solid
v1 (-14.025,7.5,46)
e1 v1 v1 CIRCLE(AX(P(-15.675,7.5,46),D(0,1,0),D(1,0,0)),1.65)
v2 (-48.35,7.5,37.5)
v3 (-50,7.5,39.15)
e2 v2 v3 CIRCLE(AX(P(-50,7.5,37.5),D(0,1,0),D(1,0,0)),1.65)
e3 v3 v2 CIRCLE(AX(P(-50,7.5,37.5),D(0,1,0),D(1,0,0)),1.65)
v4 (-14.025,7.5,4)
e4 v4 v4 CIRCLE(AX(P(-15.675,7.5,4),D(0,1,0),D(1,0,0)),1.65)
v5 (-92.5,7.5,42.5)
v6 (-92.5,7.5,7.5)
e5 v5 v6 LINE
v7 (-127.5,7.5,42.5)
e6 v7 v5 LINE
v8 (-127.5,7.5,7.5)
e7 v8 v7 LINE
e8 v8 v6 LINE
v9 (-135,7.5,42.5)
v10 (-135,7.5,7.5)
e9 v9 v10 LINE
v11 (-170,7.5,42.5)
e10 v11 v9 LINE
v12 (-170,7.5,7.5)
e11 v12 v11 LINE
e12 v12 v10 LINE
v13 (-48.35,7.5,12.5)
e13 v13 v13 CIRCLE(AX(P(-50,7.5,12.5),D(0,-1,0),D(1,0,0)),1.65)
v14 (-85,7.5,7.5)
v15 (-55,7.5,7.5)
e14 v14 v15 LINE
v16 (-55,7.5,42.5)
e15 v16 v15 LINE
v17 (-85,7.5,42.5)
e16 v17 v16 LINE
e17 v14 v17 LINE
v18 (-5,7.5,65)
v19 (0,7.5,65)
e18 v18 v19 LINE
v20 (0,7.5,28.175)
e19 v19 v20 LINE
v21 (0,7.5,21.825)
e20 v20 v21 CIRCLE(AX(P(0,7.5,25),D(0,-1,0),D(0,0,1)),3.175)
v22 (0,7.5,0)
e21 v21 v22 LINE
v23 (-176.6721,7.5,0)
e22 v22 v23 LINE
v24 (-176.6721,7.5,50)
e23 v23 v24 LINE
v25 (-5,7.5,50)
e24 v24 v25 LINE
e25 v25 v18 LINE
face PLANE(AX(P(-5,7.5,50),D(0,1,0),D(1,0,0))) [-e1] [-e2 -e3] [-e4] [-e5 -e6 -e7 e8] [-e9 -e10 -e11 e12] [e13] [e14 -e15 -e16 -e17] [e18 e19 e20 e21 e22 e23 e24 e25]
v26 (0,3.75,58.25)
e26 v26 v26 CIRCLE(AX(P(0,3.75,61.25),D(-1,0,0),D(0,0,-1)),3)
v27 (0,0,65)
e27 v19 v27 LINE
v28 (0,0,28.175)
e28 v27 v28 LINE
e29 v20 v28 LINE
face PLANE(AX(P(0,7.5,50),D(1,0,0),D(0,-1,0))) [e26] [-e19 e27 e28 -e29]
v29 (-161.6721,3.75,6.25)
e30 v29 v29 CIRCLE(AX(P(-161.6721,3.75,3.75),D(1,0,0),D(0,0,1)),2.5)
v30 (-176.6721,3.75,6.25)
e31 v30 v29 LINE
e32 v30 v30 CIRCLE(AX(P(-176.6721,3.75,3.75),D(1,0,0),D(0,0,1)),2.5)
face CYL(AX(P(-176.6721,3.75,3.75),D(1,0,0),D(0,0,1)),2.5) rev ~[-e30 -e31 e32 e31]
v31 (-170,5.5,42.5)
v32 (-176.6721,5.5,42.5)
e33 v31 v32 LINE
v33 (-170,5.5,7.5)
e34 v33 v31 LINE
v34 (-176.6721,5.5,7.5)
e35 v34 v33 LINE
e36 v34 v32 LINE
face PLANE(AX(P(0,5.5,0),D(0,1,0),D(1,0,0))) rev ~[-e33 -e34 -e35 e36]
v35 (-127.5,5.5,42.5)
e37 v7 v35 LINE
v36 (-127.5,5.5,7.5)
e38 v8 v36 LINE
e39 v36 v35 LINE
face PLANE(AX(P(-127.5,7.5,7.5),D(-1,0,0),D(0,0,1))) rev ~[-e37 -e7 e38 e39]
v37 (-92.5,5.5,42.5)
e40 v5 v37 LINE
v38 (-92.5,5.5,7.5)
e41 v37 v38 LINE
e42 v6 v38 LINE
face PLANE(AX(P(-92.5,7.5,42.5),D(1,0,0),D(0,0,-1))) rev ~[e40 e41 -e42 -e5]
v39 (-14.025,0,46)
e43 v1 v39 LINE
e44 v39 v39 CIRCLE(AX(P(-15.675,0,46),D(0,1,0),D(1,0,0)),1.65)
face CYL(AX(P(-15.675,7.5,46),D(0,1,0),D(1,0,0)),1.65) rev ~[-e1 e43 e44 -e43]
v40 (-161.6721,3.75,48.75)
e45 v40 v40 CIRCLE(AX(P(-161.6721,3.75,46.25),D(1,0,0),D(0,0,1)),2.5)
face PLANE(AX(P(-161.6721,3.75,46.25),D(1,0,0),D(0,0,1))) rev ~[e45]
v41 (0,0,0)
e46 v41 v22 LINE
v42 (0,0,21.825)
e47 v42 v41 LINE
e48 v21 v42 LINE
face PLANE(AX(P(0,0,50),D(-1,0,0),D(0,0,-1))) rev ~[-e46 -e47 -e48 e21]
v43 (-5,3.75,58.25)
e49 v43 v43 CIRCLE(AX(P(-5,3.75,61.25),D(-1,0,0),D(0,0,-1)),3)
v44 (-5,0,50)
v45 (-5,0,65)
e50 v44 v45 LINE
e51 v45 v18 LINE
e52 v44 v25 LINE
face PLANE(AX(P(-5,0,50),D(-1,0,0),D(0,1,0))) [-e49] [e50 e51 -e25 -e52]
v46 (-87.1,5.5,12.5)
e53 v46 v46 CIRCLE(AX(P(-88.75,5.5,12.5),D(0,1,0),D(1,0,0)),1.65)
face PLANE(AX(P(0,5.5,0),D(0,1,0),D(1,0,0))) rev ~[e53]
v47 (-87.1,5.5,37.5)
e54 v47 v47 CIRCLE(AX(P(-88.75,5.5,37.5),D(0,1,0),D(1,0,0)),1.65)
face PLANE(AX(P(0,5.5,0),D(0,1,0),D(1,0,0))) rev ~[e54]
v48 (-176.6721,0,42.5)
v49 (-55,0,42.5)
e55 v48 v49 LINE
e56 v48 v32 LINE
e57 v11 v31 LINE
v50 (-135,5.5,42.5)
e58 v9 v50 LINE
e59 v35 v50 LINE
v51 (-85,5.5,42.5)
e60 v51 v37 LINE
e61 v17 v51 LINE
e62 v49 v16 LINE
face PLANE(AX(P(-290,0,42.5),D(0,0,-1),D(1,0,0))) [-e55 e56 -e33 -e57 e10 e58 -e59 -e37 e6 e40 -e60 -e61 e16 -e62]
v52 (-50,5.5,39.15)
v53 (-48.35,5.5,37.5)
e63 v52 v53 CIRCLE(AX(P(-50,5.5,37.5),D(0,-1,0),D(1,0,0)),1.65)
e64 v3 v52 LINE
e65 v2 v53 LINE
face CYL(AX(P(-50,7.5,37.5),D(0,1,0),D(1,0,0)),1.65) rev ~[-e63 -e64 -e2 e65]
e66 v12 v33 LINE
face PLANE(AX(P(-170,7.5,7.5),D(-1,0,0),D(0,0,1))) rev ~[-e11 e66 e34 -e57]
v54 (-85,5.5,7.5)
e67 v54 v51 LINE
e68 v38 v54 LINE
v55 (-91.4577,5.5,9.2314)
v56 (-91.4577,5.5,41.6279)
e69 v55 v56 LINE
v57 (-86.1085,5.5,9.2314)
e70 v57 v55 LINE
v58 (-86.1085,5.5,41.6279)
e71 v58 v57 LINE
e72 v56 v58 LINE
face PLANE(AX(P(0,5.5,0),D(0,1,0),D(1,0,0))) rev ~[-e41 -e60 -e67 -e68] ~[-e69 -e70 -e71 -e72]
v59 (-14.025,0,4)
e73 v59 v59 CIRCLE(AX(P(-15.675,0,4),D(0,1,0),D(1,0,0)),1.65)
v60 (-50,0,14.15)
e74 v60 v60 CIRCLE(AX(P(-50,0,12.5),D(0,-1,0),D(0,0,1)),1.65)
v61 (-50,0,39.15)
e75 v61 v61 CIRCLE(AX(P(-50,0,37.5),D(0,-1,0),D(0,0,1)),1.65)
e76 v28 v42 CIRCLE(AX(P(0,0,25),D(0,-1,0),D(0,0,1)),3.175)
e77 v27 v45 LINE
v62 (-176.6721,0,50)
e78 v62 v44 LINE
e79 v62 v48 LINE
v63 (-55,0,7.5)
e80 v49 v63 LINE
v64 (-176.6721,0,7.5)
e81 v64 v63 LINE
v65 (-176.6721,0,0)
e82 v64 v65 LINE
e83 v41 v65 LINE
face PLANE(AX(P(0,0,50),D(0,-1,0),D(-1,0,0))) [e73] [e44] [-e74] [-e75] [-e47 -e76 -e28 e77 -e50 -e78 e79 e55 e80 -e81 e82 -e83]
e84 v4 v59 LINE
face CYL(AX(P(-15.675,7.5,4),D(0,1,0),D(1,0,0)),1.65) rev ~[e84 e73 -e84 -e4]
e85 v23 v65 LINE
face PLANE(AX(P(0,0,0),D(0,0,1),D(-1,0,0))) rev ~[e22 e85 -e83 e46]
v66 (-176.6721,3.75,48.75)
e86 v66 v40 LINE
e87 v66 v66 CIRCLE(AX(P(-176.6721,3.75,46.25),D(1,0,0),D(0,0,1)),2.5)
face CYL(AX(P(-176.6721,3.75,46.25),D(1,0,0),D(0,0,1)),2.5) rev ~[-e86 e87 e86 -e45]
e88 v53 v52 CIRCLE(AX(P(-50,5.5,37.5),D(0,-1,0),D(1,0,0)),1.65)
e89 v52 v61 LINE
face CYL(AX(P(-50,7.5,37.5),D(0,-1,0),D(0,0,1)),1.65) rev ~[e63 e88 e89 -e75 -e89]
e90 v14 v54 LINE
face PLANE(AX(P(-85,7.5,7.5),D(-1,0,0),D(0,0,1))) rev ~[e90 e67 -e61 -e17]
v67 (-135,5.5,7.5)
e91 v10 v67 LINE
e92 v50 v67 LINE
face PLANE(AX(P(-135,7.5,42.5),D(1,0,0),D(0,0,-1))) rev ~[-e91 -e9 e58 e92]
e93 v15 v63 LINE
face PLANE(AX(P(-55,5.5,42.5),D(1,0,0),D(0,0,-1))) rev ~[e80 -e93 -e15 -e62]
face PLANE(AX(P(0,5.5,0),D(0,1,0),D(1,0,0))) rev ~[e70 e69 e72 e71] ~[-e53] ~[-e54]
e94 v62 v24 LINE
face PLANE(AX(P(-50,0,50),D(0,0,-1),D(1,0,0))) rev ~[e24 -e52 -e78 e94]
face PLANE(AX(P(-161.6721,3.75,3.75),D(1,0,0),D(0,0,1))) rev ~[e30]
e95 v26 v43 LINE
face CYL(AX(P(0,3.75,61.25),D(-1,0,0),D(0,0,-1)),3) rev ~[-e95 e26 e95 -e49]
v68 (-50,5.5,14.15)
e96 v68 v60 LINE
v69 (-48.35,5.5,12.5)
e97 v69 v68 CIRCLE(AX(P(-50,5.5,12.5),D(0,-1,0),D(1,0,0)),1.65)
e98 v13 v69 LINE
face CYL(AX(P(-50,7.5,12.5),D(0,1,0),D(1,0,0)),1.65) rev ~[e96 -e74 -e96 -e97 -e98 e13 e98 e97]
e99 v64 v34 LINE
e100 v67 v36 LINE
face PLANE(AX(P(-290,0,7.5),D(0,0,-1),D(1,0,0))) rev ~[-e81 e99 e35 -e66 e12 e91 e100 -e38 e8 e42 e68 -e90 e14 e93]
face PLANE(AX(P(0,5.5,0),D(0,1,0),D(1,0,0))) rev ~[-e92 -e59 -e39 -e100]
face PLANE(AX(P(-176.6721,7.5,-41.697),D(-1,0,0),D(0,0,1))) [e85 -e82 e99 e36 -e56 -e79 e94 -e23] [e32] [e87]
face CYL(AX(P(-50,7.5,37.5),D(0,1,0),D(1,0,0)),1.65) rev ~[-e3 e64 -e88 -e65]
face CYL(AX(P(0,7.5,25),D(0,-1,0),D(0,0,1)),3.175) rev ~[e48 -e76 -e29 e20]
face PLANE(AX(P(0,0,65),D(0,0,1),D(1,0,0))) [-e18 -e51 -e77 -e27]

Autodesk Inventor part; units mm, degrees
ref_plane "YZ Plane" through (0, 0, 0) normal (1, 0, 0) x (0, 1, 0)
ref_plane "XZ Plane" through (0, 0, 0) normal (0, 1, 0) x (-1, 0, 0)
ref_plane "XY Plane" through (0, 0, 0) normal (0, 0, 1) x (1, 0, 0)
sketch "Sketch1" plane through (0, 0, 0) normal (0, 1, 0) x (-1, 0, 0)
  line L0 (0, 0) -> (50, 0)
  line L1 (50, 0) -> (50, 50)
  line L2 (50, 50) -> (0, 50)
  line L3 (0, 50) -> (0, 0)
  line L4 (50, 50) -> (290, 50)
  line L5 (290, 50) -> (290, 42.5)
  line L6 (290, 42.5) -> (50, 42.5)
  line L7 (50, 42.5) -> (50, 50)
  line L8 (50, 0) -> (290, 0)
  line L9 (290, 0) -> (290, 7.5)
  line L10 (290, 7.5) -> (50, 7.5)
  line L11 (50, 7.5) -> (50, 0)
  dimension "d0" = 50
  dimension "d1" = 50
  dimension "d2" = 240
  dimension "d3" = 7.5
  dimension "d4" = 7.5
extrude "Extrusion1" add sketch "Sketch1" along normal blind 7.5
sketch "Sketch2" plane through (0, 7.5, 0) normal (0, 1, 0) x (1, 0, 0)
  line L0 (0, -50) -> (0, 0) projected
  point P0 (0, -25)
hole "Hole1" at (0, 7.5, 25) direction (0, -1, 0) diameter 6.35 end through all
sketch "Sketch3" plane through (0, 7.5, 0) normal (0, 1, 0) x (1, 0, 0)
  line L0 (-3.175, -50) -> (-3.175, 0) construction
  line L1 (-3.175, -50) -> (-28.175, -50) construction
  line L2 (-28.175, -50) -> (-28.175, 0) construction
  line L3 (-28.175, 0) -> (-3.175, 0) construction
  point P0 (0, 0)
  point P1 (-7.175, -4)
  point P2 (-24.175, -46)
  dimension "d14" = 25
hole "Hole2" at (-7.175, 7.5, 4) at (-24.175, 7.5, 46) direction (0, -1, 0) diameter 3.3 end through all
sketch "Sketch4" plane through (0, 7.5, 0) normal (0, 1, 0) x (1, 0, 0)
  arc A0 (0, -21.825) -> (0, -28.175) centre (0, -25) ccw construction
  line L0 (-3.175, -25) -> (-28.175, -25) construction
  line L1 (-3.175, -25) -> (21.825, -25) construction
  line L2 (-290, -50) -> (0, -50) construction
  line L3 (-28.175, -50) -> (-28.175, 0) construction
  line L4 (-50, -7.5) -> (-50, -42.5) construction
  line L5 (-50, -42.5) -> (-45, -42.5) construction
  line L6 (-45, -42.5) -> (-45, -32.5) construction
  line L7 (-45, -32.5) -> (-50, -32.5) construction
  line L8 (-50, -32.5) -> (-50, -42.5) construction
  line L9 (-45, -32.5) -> (-40, -32.5)
  line L10 (-40, -32.5) -> (-40, -42.5)
  line L11 (-40, -42.5) -> (-45, -42.5)
  line L12 (-45, -42.5) -> (-45, -32.5)
  point P0 (0, 0)
  dimension "d22" = 25
  dimension "d23" = 180
  dimension "d24" = 5
  dimension "d25" = 10
  dimension "d26" = 5
extrude "Extrusion2" add sketch "Sketch4" along normal blind 17.5
sketch "Sketch5" plane through (0, 7.5, 0) normal (0, 1, 0) x (1, 0, 0)
  line L0 (-85, -7.5) -> (-85, -42.5)
  line L1 (-127.5, -7.5) -> (-127.5, -42.5)
  line L2 (-92.5, -42.5) -> (-92.5, -7.5)
  line L3 (-135, -7.5) -> (-170, -7.5) construction
  line L4 (-170, -7.5) -> (-170, -42.5) construction
  line L5 (-170, -42.5) -> (-135, -42.5) construction
  line L6 (-135, -42.5) -> (-135, -7.5) construction
  line L7 (-177.5, -7.5) -> (-212.5, -7.5) construction
  line L8 (-212.5, -7.5) -> (-212.5, -42.5) construction
  line L9 (-212.5, -42.5) -> (-177.5, -42.5) construction
  line L10 (-177.5, -42.5) -> (-177.5, -7.5) construction
  line L11 (-220, -7.5) -> (-255, -7.5) construction
  line L12 (-255, -7.5) -> (-255, -42.5) construction
  line L13 (-255, -42.5) -> (-220, -42.5) construction
  line L14 (-220, -42.5) -> (-220, -7.5) construction
  line L15 (-85, -7.5) -> (-92.5, -7.5) construction
  line L16 (-92.5, -7.5) -> (-92.5, -42.5) construction
  line L17 (-92.5, -42.5) -> (-85, -42.5) construction
  line L18 (-85, -42.5) -> (-85, -7.5) construction
  line L19 (-127.5, -7.5) -> (-135, -7.5) construction
  line L20 (-135, -7.5) -> (-135, -42.5) construction
  line L21 (-135, -42.5) -> (-127.5, -42.5) construction
  line L22 (-127.5, -42.5) -> (-127.5, -7.5) construction
  line L23 (-170, -7.5) -> (-177.5, -7.5) construction
  line L24 (-177.5, -7.5) -> (-177.5, -42.5) construction
  line L25 (-177.5, -42.5) -> (-170, -42.5) construction
  line L26 (-170, -42.5) -> (-170, -7.5) construction
  line L27 (-212.5, -7.5) -> (-220, -7.5) construction
  line L28 (-220, -7.5) -> (-220, -42.5) construction
  line L29 (-220, -42.5) -> (-212.5, -42.5) construction
  line L30 (-212.5, -42.5) -> (-212.5, -7.5) construction
  line L31 (-220, -7.5) -> (-212.5, -7.5)
  line L32 (-212.5, -7.5) -> (-212.5, -42.5)
  line L33 (-212.5, -42.5) -> (-220, -42.5)
  line L34 (-220, -42.5) -> (-220, -7.5)
  line L35 (-177.5, -7.5) -> (-170, -7.5)
  line L36 (-170, -7.5) -> (-170, -42.5)
  line L37 (-170, -42.5) -> (-177.5, -42.5)
  line L38 (-177.5, -42.5) -> (-177.5, -7.5)
  line L39 (-135, -7.5) -> (-127.5, -7.5)
  line L40 (-127.5, -7.5) -> (-127.5, -42.5)
  line L41 (-127.5, -42.5) -> (-135, -42.5)
  line L42 (-135, -42.5) -> (-135, -7.5)
  line L43 (-92.5, -7.5) -> (-85, -7.5)
  line L44 (-85, -7.5) -> (-85, -42.5)
  line L45 (-85, -42.5) -> (-92.5, -42.5)
  line L46 (-92.5, -42.5) -> (-92.5, -7.5)
  point P0 (0, 0)
  point P1 (-50, -7.5)
  dimension "d30" = 35
  dimension "d31" = 35
  dimension "d32" = 35
  dimension "d33" = 35
  dimension "d34" = 35
  dimension "d35" = 35
extrude "Extrusion3" add sketch "Sketch5" against normal blind 2
sketch "Sketch6" plane through (0, 7.5, 0) normal (0, 1, 0) x (1, 0, 0)
  line L0 (-290, 0) -> (-290, -7.5) projected
  line L1 (-290, -50) -> (0, -50) projected
  line L2 (-290, 0) -> (-280, 0)
  line L3 (-280, 0) -> (-280, -50)
  line L4 (-280, -50) -> (-290, -50)
  line L5 (-290, -50) -> (-290, 0)
  point P0 (0, 0)
  dimension "d38" = 10
extrude "Extrusion4" cut sketch "Sketch6" against normal blind 7.5
sketch "Sketch7" plane through (-280, 7.5, 0) normal (-1, 0, 0) x (0, 0, 1)
  point P0 (0, -7.5)
sketch "Sketch8" plane through (-280, 7.5, 0) normal (-1, 0, 0) x (0, 0, 1)
  line L0 (-25, 0) -> (75, 0)
  line L1 (75, 0) -> (75, -7.5)
  line L2 (75, -7.5) -> (-25, -7.5)
  line L3 (-25, -7.5) -> (-25, 0)
  line L4 (-25, 0) -> (75, 0)
  line L5 (75, 0) -> (75, -10)
  line L6 (75, -10) -> (-25, -10)
  line L7 (-25, -10) -> (-25, 0)
  point P0 (0, -7.5)
  dimension "d41" = 100
  dimension "d42" = 10
extrude "Extrusion5" add sketch "Sketch8" along normal blind 7.5
sketch "Sketch9" plane through (-287.5, 7.5, 0) normal (-1, 0, 0) x (0, 0, 1)
  line L0 (75, 0) -> (-25, 0) projected
  line L1 (-25, -10) -> (75, -10) projected
  line L2 (-25, 0) -> (-17.5, 0)
  line L3 (-17.5, 0) -> (-17.5, -10)
  line L4 (-17.5, -10) -> (-25, -10)
  line L5 (-25, -10) -> (-25, 0)
  line L6 (75, 0) -> (67.5, 0)
  line L7 (67.5, 0) -> (67.5, -10)
  line L8 (67.5, -10) -> (75, -10)
  line L9 (75, -10) -> (75, 0)
  point P0 (0, -7.5)
  dimension "d45" = 7.5
  dimension "d46" = 7.5
extrude "Extrusion6" add sketch "Sketch9" along normal blind 25 contours L9 L1 L7 L0 | L3 L1 L5 L0
sketch "Sketch10" plane through (-287.5, -2.5, -17.5) normal (0, 0, 1) x (1, 0, 0)
  line L0 (0, 0) -> (-25, 0) construction
  line L1 (0, 0) -> (-3, 0) construction
  line L2 (-3, 0) -> (-6.2, 0)
  line L3 (-6.2, 0) -> (-6.2, 2.1)
  line L4 (-6.2, 2.1) -> (-3, 2.1)
  line L5 (-3, 2.1) -> (-3, 0)
  line L6 (-6.2, 2.1) -> (-11.7, 2.1) construction
  line L7 (-11.7, 2.1) -> (-11.7, 5.4) construction
  point P0 (287.5, 2.5)
  dimension "d49" = 3
  dimension "d50" = 3.2
  dimension "d51" = 2.1
  dimension "d52" = 5.5
  dimension "d53" = 3.3
extrude "Extrusion7" add sketch "Sketch10" along normal blind 92.5
sketch "Sketch11" plane through (-287.5, -2.5, -17.5) normal (0, 0, 1) x (1, 0, 0)
  line L0 (-6.2, 2.1) -> (-3, 2.1) construction
  line L1 (-6.2, 2.1) -> (-11.7, 2.1) construction
  line L2 (-11.7, 2.1) -> (-11.7, 5.4) construction
  circle A0 centre (-11.7, 5.4) radius 2.125
  point P0 (287.5, 2.5)
  dimension "d56" = 5.5
  dimension "d57" = 3.3
  dimension "d58" = 4.25
extrude "Extrusion8" cut sketch "Sketch11" along normal mid plane 241
sketch "Sketch12" plane through (-287.5, -2.5, -17.5) normal (0, 0, 1) x (1, 0, 0)
  circle A0 centre (-11.7, 5.4) radius 2.125 construction
  line L0 (-11.7, 5.4) -> (-11.7, 0.96) construction
  line L1 (-11.7, 0.96) -> (-16.7, 0.96) construction
  line L2 (-6.2, 0) -> (-25, 0) projected
  line L3 (-16.7, 0.96) -> (-19.2, 0.96)
  line L4 (-19.2, 0.96) -> (-19.2, 0)
  line L5 (-19.2, 0) -> (-16.7, 0)
  line L6 (-16.7, 0) -> (-16.7, 0.96)
  point P0 (287.5, 2.5)
  dimension "d61" = 4.44
  dimension "d62" = 5
  dimension "d63" = 2.5
extrude "Extrusion9" add sketch "Sketch12" along normal blind 91.25
sketch "Sketch13" plane through (-293.7, -0.4, -17.5) normal (0, 1, 0) x (1, 0, 0)
  line L0 (3.2, 0) -> (3.2, -85) construction
  line L1 (3.2, 0) -> (3.2, -30) construction
  line L2 (0, 0) -> (0, -85) construction
  line L3 (3.2, -30) -> (0, -30) construction
  line L4 (0, -30) -> (0, -36.35) construction
  line L5 (0, -36.35) -> (3.2, -36.35) construction
  line L6 (3.2, -36.35) -> (3.2, -30) construction
  line L7 (0, -30) -> (3.2, -30)
  line L8 (3.2, -30) -> (3.2, -36.35)
  line L9 (3.2, -36.35) -> (0, -36.35)
  line L10 (0, -36.35) -> (0, -30)
  point P0 (293.7, -17.5)
  dimension "d66" = 30
  dimension "d67" = 6.35
extrude "Extrusion10" add sketch "Sketch13" along normal blind 3.8
sketch "Sketch14" plane through (0, 7.5, 0) normal (0, 1, 0) x (1, 0, 0)
  line L0 (-287.5, 17.5) -> (-287.5, -67.5) projected
  line L1 (-287.5, 17.5) -> (-285, 17.5)
  line L2 (-285, 17.5) -> (-285, -67.5)
  line L3 (-285, -67.5) -> (-287.5, -67.5)
  line L4 (-287.5, -67.5) -> (-287.5, 17.5)
  point P0 (0, 0)
  dimension "d70" = 2.5
extrude "Extrusion11" cut sketch "Sketch14" against normal blind 14.55
sketch "Sketch15" plane through (0, 7.5, 0) normal (0, 1, 0) x (1, 0, 0)
  line L0 (-312.5, 17.5) -> (-312.5, 25) projected
  line L1 (-280, -75) -> (-312.5, -75) projected
  line L2 (-312.5, 25) -> (-306.6488, 25)
  line L3 (-306.6488, 25) -> (-306.6488, -75)
  line L4 (-306.6488, -75) -> (-312.5, -75)
  line L5 (-312.5, -75) -> (-312.5, 25)
  point P0 (0, 0)
extrude "Extrusion12" cut sketch "Sketch15" against normal blind 14.55
fillet "Fillet1" radius 0.1 1 edges at (-301.325, 2.9, -17.5)
fillet "Fillet2" radius 0.1 1 edges at (-301.325, 2.9, 67.5)
fillet "Fillet3" radius 3.25 1 edges at (-280, 2.5, 75)
fillet "Fillet4" radius 3.25 1 edges at (-285, 2.5, 67.5)
fillet "Fillet5" radius 3.25 1 edges at (-280, 2.5, -25)
fillet "Fillet6" radius 3.25 1 edges at (-285, 2.5, -17.5)
sketch "Sketch16" plane through (0, 7.5, 0) normal (0, 1, 0) x (1, 0, 0)
  line L0 (-220, -42.5) -> (-220, -7.5) construction
  line L1 (-220, -42.5) -> (-280, -42.5) construction
  line L2 (-220, -7.5) -> (-255, -7.5) construction
  line L3 (-255, -7.5) -> (-255, -42.5) construction
  line L4 (-255, -42.5) -> (-220, -42.5) construction
  line L5 (-220, -42.5) -> (-220, -7.5) construction
  line L6 (-280, -7.5) -> (-280, 0) projected
  line L7 (-280, -7.5) -> (-270, -7.5)
  line L8 (-270, -7.5) -> (-270, -42.5)
  line L9 (-270, -42.5) -> (-280, -42.5)
  line L10 (-280, -42.5) -> (-280, -7.5)
  point P0 (0, 0)
  dimension "d81" = 35
  dimension "d82" = 10
extrude "Extrusion13" add sketch "Sketch16" against normal blind 2
sketch "Sketch17" plane through (0, 7.5, 0) normal (0, 1, 0) x (1, 0, 0)
  point P0 (0, 0)
sketch "Sketch18" plane through (0, 7.5, 0) normal (0, 1, 0) x (1, 0, 0)
  line L0 (-270, -7.5) -> (-270, -42.5) construction
  line L1 (-285, -64.25) -> (-285, 14.25) construction
  line L2 (-280, -7.5) -> (-280, 0) construction
  line L3 (-270, -7.5) -> (-280, -7.5) construction
  line L4 (-275, -7.5) -> (-275, -42.5) construction
  line L5 (-50, -42.5) -> (-280, -42.5) construction
  circle A0 centre (-275, -12.5) radius 1.8 construction
  circle A1 centre (-275, -37.5) radius 1.8 construction
  circle A2 centre (-275, -12.5) radius 1.8
  circle A3 centre (-275, -37.5) radius 1.8
  point P0 (0, 0)
  dimension "d85" = 3.6
  dimension "d86" = 3.6
hole "Hole3" at (-275, 7.5, 12.5) at (-275, 7.5, 37.5) direction (0, -1, 0) diameter 3.3 depth 15 tip angle 118
sketch "Sketch19" plane through (0, 7.5, 0) normal (0, 1, 0) x (1, 0, 0)
  circle A0 centre (-275, -12.5) radius 1.65 construction
  line L0 (-275, -12.5) -> (-212.5, -12.5) construction
  line L1 (-212.5, -7.5) -> (-212.5, -42.5) construction
  circle A1 centre (-275, -37.5) radius 1.65 construction
  line L2 (-275, -37.5) -> (-212.5, -37.5) construction
  line L3 (-220, -42.5) -> (-220, -7.5) construction
  line L4 (-220, -12.5) -> (-212.5, -12.5) construction
  line L5 (-216.25, -12.5) -> (-216.25, -37.5) construction
  point P0 (0, 0)
hole "Hole4" at (-216.25, 7.5, 12.5) at (-216.25, 7.5, 37.5) direction (0, -1, 0) diameter 3.3 depth 15 tip angle 118
sketch "Sketch20" plane through (-45, 7.5, 32.5) normal (-1, 0, 0) x (0, 0, 1)
  line L0 (10, 17.5) -> (0, 17.5) construction
  line L1 (5, 17.5) -> (5, -0.1335) construction
  line L2 (10, 0) -> (10, 17.5) construction
  line L3 (10, 12.5) -> (5, 12.5) construction
  circle A0 centre (5, 12.5) radius 3
  point P0 (-32.5, -7.5)
  dimension "d101" = 6
extrude "Extrusion14" cut sketch "Sketch20" against normal blind 20
sketch "Sketch21" plane through (0, 7.5, 0) normal (0, 1, 0) x (1, 0, 0)
  line L0 (-306.6488, 17.5) -> (-306.6488, -67.5) projected
  line L1 (-306.6488, 17.5) -> (-288.25, 17.5) projected
  line L2 (-306.6488, -67.5) -> (-288.25, -67.5)
  line L3 (-288.25, -67.5) -> (-288.25, 17.5)
  line L4 (-288.25, 17.5) -> (-306.6488, 17.5)
  line L5 (-306.6488, 17.5) -> (-306.6488, -67.5)
  point P0 (0, 0)
extrude "Extrusion15" cut sketch "Sketch21" against normal blind 10
sketch "Sketch22" plane through (0, 7.5, 0) normal (0, 1, 0) x (1, 0, 0)
  line L0 (-280, -50) -> (0, -50) projected
  line L1 (0, 0) -> (-280, 0) projected
  line L2 (-280, -50) -> (-270.5687, -50)
  line L3 (-270.5687, -50) -> (-270.5687, 0)
  line L4 (-270.5687, 0) -> (-280, 0)
  line L5 (-280, 0) -> (-280, -50)
  line L6 (-50, -42.5) -> (-280, -42.5) projected
  line L7 (-219.3019, -42.5) -> (-213.3073, -42.5)
  line L8 (-213.3073, -42.5) -> (-213.3073, -8.284)
  line L9 (-213.3073, -8.284) -> (-219.3019, -8.284)
  line L10 (-219.3019, -8.284) -> (-219.3019, -42.5)
extrude "Extrusion16" add sketch "Sketch22" against normal blind 2
sketch "Sketch23" plane through (-306.6488, -2.5, -25) normal (0, 0, -1) x (-1, 0, 0)
  circle A0 centre (-7.4488, 5.4) radius 2.125 projected
  circle A1 centre (-7.4488, 5.4) radius 2
  circle A2 centre (-7.4488, 5.4) radius 2.4429
  point P0 (-306.6488, 2.5)
  dimension "d108" = 4
extrude "Extrusion17" add sketch "Sketch23" against normal blind 100 contours A0 | A2
sketch "Sketch24" plane through (0, 7.5, 0) normal (0, 1, 0) x (1, 0, 0)
  line L0 (-288.25, -67.5) -> (-306.6488, -67.5) projected
  arc A0 (-285, 14.25) -> (-288.25, 17.5) centre (-288.25, 14.25) ccw projected
  line L1 (-306.6488, -67.5) -> (-288.25, -67.5)
  line L2 (-288.25, -67.5) -> (-288.25, 17.5)
  line L3 (-288.25, 17.5) -> (-306.6488, 17.5)
  line L4 (-306.6488, 17.5) -> (-306.6488, -67.5)
  point P0 (0, 0)
extrude "Extrusion18" cut sketch "Sketch24" against normal blind 100
sketch "Sketch25" plane through (0, 7.5, 0) normal (0, 1, 0) x (1, 0, 0)
  line L0 (-50, -42.5) -> (-280, -42.5) projected
  line L1 (-280, -7.5) -> (-50, -7.5) projected
  line L2 (-50, -42.5) -> (-55, -42.5)
  line L3 (-55, -42.5) -> (-55, -7.5)
  line L4 (-55, -7.5) -> (-50, -7.5)
  line L5 (-50, -7.5) -> (-50, -42.5)
  point P0 (0, 0)
  dimension "d113" = 5
extrude "Extrusion19" add sketch "Sketch25" against normal blind 2
sketch "Sketch26" plane through (0, 7.5, 0) normal (0, 1, 0) x (1, 0, 0)
  line L0 (-55, -42.5) -> (-85, -42.5) construction
  line L1 (-55, -42.5) -> (-50, -42.5) construction
  line L2 (-55, -42.5) -> (-50, -42.5) construction
  line L3 (-50, -42.5) -> (-50, -7.5) construction
  line L4 (-50, -42.5) -> (-50, -7.5) construction
  circle A0 centre (-50, -37.5) radius 1.65 construction
  circle A1 centre (-50, -12.5) radius 1.65 construction
  circle A2 centre (-50, -37.5) radius 1.65
  circle A3 centre (-50, -12.5) radius 1.65
  line L5 (-50, -37.5) -> (-92.5, -37.5) construction
  line L6 (-92.5, -42.5) -> (-92.5, -7.5) construction
  line L7 (-50, -12.5) -> (-92.5, -12.5) construction
  line L8 (-92.5, -37.5) -> (-85, -37.5) construction
  line L9 (-85, -7.5) -> (-85, -42.5) construction
  line L10 (-88.75, -37.5) -> (-88.75, -12.5) construction
  circle A4 centre (-88.75, -37.5) radius 1.65
  circle A5 centre (-88.75, -12.5) radius 1.65
  point P0 (0, 0)
  dimension "d116" = 3.3
  dimension "d117" = 3.3
  dimension "d118" = 3.3
  dimension "d119" = 3.3
extrude "Extrusion20" cut sketch "Sketch26" against normal blind 2
sketch "Sketch27" plane through (0, 5.5, 0) normal (0, -1, 0) x (1, 0, 0)
  line L0 (-50, 7.5) -> (-55, 7.5) projected
  line L1 (-55, 7.5) -> (-46.6169, 7.5)
  line L2 (-46.6169, 7.5) -> (-46.6169, 42.5)
  line L3 (-46.6169, 42.5) -> (-55, 42.5)
  line L4 (-55, 42.5) -> (-55, 7.5)
  point P0 (0, 0)
extrude "Extrusion21" add sketch "Sketch27" along normal blind 5.5
sketch "Sketch28" plane through (0, 7.5, 0) normal (0, 1, 0) x (1, 0, 0)
  circle A0 centre (-50, -12.5) radius 1.65 projected
  circle A1 centre (-50, -37.5) radius 1.65 projected
  point P0 (0, 0)
hole "Hole5" at (-50, 7.5, 12.5) at (-50, 7.5, 37.5) direction (0, -1, 0) diameter 3.3 depth 8 tip angle 118
sketch "Sketch29" plane through (0, 7.5, 0) normal (0, 1, 0) x (1, 0, 0)
  circle A0 centre (-7.175, -4) radius 1.65 construction
  circle A1 centre (-24.175, -46) radius 1.65 construction
  line L0 (-7.175, -4) -> (-24.175, -46) construction
  line L1 (-7.175, -4) -> (-7.175, -46) construction
  line L2 (-7.175, -46) -> (-24.175, -46) construction
  line L3 (-7.175, -25) -> (-25.825, -25) construction
  line L4 (-25.825, -25) -> (-25.825, -46) construction
  line L5 (-16.5, -25) -> (-25.825, -25) construction
  line L6 (-24.175, -46) -> (-24.175, -25) construction
  line L7 (-15.675, -46) -> (-15.675, -4) construction
  line L8 (-40, -32.5) -> (-40, -42.5) construction
  line L9 (-40, -42.5) -> (-24.175, -42.5) construction
  line L10 (-24.175, -42.5) -> (-24.175, -46) construction
  line L11 (-15.675, -25) -> (-15.675, -46) construction
  line L12 (-15.675, -46) -> (-15.675, -4) construction
  circle A2 centre (-15.675, -46) radius 1.65 construction
  circle A3 centre (-15.675, -46) radius 1.65
  circle A4 centre (-15.675, -4) radius 1.65
  point P0 (0, 0)
  dimension "d131" = 42
  dimension "d132" = 17
  dimension "d133" = 21
  dimension "d135" = 8.5
  dimension "d136" = 15.825
  dimension "d137" = 3.5
  dimension "d138" = 21
  dimension "d139" = 3.3
  dimension "d140" = 3.3
  dimension "d141" = 3.3
extrude "Extrusion22" cut sketch "Sketch29" against normal blind 10
sketch "Sketch30" plane through (0, 7.5, 0) normal (0, 1, 0) x (1, 0, 0)
  circle A0 centre (-7.175, -4) radius 1.65 projected
  circle A1 centre (-7.175, -4) radius 2.1021
  circle A2 centre (-24.175, -46) radius 1.65 projected
  circle A3 centre (-24.175, -46) radius 2.9173
  point P0 (0, 0)
extrude "Extrusion23" add sketch "Sketch30" against normal blind 7.5 contours A0 | A1 | A2 | A3
sketch "Sketch31" plane through (0, 7.5, 0) normal (0, 1, 0) x (1, 0, 0)
  line L0 (-45, -42.5) -> (-45, -32.5) construction
  circle A0 centre (-50, -37.5) radius 1.65 construction
  line L1 (-45, -37.5) -> (-50, -37.5) construction
  circle A1 centre (-50, -12.5) radius 1.65 construction
  line L2 (-50, -12.5) -> (-45, -12.5) construction
  line L3 (-40, -32.5) -> (-40, -42.5) construction
  line L4 (-40, -42.5) -> (-45, -32.5) construction
  line L5 (-45, -32.5) -> (-40, -32.5) construction
  line L6 (-40, -32.5) -> (-45, -42.5) construction
  line L7 (-50, -37.5) -> (-42.5, -37.5) construction
  line L8 (-42.5, -37.5) -> (-42.5, -12.5) construction
  line L9 (-45, -17.5) -> (-40, -17.5)
  line L10 (-40, -17.5) -> (-40, -7.5)
  line L11 (-40, -7.5) -> (-45, -7.5)
  line L12 (-45, -7.5) -> (-45, -17.5)
  line L13 (-45, -17.5) -> (-40, -7.5) construction
  line L14 (-40, -17.5) -> (-45, -7.5) construction
  point P0 (0, 0)
  dimension "d146" = 5
  dimension "d147" = 10
  dimension "d148" = 5
  dimension "d149" = 10
extrude "Extrusion24" add sketch "Sketch31" along normal blind 17.5
sketch "Sketch32" plane through (-45, 7.5, 7.5) normal (-1, 0, 0) x (0, 0, 1)
  line L0 (10, 17.5) -> (0, 17.5) construction
  line L1 (5, 17.5) -> (5, 12.5) construction
  point P0 (-7.5, -7.5)
  dimension "d152" = 5
hole "Hole6" at (-45, 20, 12.5) direction (1, 0, 0) diameter 7 depth 8 tip angle 118
sketch "Sketch33" plane through (0, 25, 0) normal (0, 1, 0) x (1, 0, 0)
  line L0 (-45, -32.5) -> (-40, -32.5) projected
  line L1 (-40, -32.5) -> (-40, -42.5) projected
  line L2 (-45, -32.5) -> (-40, -32.5)
  line L3 (-40, -32.5) -> (-40, -42.5)
  line L4 (-40, -42.5) -> (-45, -42.5)
  line L5 (-45, -42.5) -> (-45, -32.5)
  point P0 (0, 0)
extrude "Extrusion25" cut sketch "Sketch33" against normal blind 17.5
sketch "Sketch34" plane through (0, 7.5, 0) normal (0, 1, 0) x (1, 0, 0)
  line L0 (-280, -50) -> (0, -50) projected
  line L1 (-176.6721, -50) -> (-309.3974, -50)
  line L2 (-309.3974, -50) -> (-309.3974, 41.697)
  line L3 (-309.3974, 41.697) -> (-176.6721, 41.697)
  line L4 (-176.6721, 41.697) -> (-176.6721, -50)
  line L5 (-176.6721, 41.697) -> (-320.285, 41.697)
  line L6 (-320.285, 41.697) -> (-320.285, -112.2851)
  line L7 (-320.285, -112.2851) -> (-176.6721, -112.2851)
  line L8 (-176.6721, -112.2851) -> (-176.6721, 41.697)
  point P0 (0, 0)
extrude "Extrusion26" cut sketch "Sketch34" against normal blind 170.5
sketch "Sketch35" plane through (-176.6721, 7.5, 0) normal (-1, 0, 0) x (0, 0, 1)
  line L0 (42.5, -7.5) -> (7.5, -7.5) construction
  line L1 (0, 0) -> (7.5, -7.5) construction
  line L2 (7.5, -7.5) -> (7.5, 0) construction
  line L3 (21.825, -7.5) -> (0, -7.5) construction
  line L4 (7.5, 0) -> (0, -7.5) construction
  line L5 (5.625, -5.625) -> (1.875, -5.625)
  line L6 (1.875, -5.625) -> (1.875, -1.875)
  line L7 (1.875, -1.875) -> (5.625, -1.875)
  line L8 (5.625, -1.875) -> (5.625, -5.625)
  line L9 (5.625, -5.625) -> (1.875, -1.875) construction
  line L10 (1.875, -5.625) -> (5.625, -1.875) construction
  line L11 (42.5, -7.5) -> (50, 0) construction
  line L12 (50, 0) -> (50, -7.5) construction
  line L13 (50, -7.5) -> (42.5, 0) construction
  line L14 (0, 0) -> (50, 0) construction
  line L15 (48.125, -5.625) -> (44.375, -5.625)
  line L16 (44.375, -5.625) -> (44.375, -1.875)
  line L17 (44.375, -1.875) -> (48.125, -1.875)
  line L18 (48.125, -1.875) -> (48.125, -5.625)
  line L19 (48.125, -5.625) -> (44.375, -1.875) construction
  line L20 (44.375, -5.625) -> (48.125, -1.875) construction
  point P0 (3.75, -3.75)
  point P1 (46.25, -3.75)
  dimension "d164" = 3.75
  dimension "d165" = 3.75
  dimension "d166" = 3.75
  dimension "d167" = 3.75
extrude "Extrusion27" add sketch "Sketch35" along normal blind 10
sketch "Sketch36" plane through (-176.6721, 5.625, 48.125) normal (0, 1, 0) x (1, 0, 0)
  line L0 (0, 0) -> (-13.3619, 0)
  line L1 (-13.3619, 0) -> (-13.3619, 48.125)
  line L2 (-13.3619, 48.125) -> (0, 48.125)
  line L3 (0, 48.125) -> (0, 0)
  point P0 (176.6721, 48.125)
extrude "Extrusion28" cut sketch "Sketch36" against normal blind 100
sketch "Sketch37" plane through (-176.6721, 7.5, 0) normal (-1, 0, 0) x (0, 0, 1)
  line L0 (42.5, -7.5) -> (42.5, -2) construction
  line L1 (50, 0) -> (28.175, 0) construction
  line L2 (42.5, -7.5) -> (50, 0) construction
  line L3 (50, 0) -> (50, -7.5) construction
  line L4 (50, -7.5) -> (46.25, -3.75) construction
  line L5 (42.5, -7.5) -> (7.5, -7.5) construction
  line L6 (0, -7.5) -> (0, 0) construction
  line L7 (7.5, -7.5) -> (0, 0) construction
  line L8 (21.825, -7.5) -> (0, -7.5) construction
  line L9 (0, 0) -> (0, -7.5) construction
  line L10 (0, -7.5) -> (3.75, -3.75) construction
hole "Hole7" at (-176.6721, 3.75, 46.25) at (-176.6721, 3.75, 3.75) direction (1, 0, 0) diameter 5 depth 15
sketch "Sketch38" plane through (0, 7.5, 0) normal (0, 1, 0) x (1, 0, 0)
  line L0 (-91.4577, -41.6279) -> (-86.1085, -41.6279)
  line L1 (-86.1085, -41.6279) -> (-86.1085, -9.2314)
  line L2 (-86.1085, -9.2314) -> (-91.4577, -9.2314)
  line L3 (-91.4577, -9.2314) -> (-91.4577, -41.6279)
  point P0 (0, 0)
extrude "Extrusion29" add sketch "Sketch38" against normal blind 2
sketch "Sketch39" plane through (0, 0, 50) normal (0, 0, 1) x (1, 0, 0)
  line L0 (-176.6721, 7.5) -> (0, 7.5) projected
  line L1 (0, 0) -> (-5, 0)
  line L2 (-5, 0) -> (-5, 7.5)
  line L3 (-5, 7.5) -> (0, 7.5)
  line L4 (0, 7.5) -> (0, 0)
  dimension "d181" = 5
extrude "Extrusion30" add sketch "Sketch39" along normal blind 15
sketch "Sketch40" plane through (0, 0, 28.175) normal (1, 0, 0) x (0, 0, -1)
  line L0 (0, 0) -> (-36.825, 0) construction
  line L1 (-36.825, 0) -> (-29.325, 0) construction
  line L2 (-21.825, 7.5) -> (-36.825, 7.5) construction
  line L3 (-29.325, 0) -> (-36.825, 7.5) construction
  line L4 (-36.825, 7.5) -> (-36.825, 0) construction
  line L5 (-36.825, 7.5) -> (-36.825, 0) construction
  line L6 (-33.075, 3.75) -> (-36.825, 0) construction
  point P0 (28.175, 0)
  dimension "d184" = 7.5
hole "Hole8" at (0, 3.75, 61.25) direction (-1, 0, 0) diameter 6 depth 15
sketch "Sketch41" plane through (0, 25, 0) normal (0, 1, 0) x (1, 0, 0)
  line L0 (-45, -17.5) -> (-45, -7.5) projected
  line L1 (-40, -7.5) -> (-40, -17.5) projected
  line L2 (-45, -17.5) -> (-40, -17.5)
  line L3 (-40, -17.5) -> (-40, -7.5)
  line L4 (-40, -7.5) -> (-45, -7.5)
  line L5 (-45, -7.5) -> (-45, -17.5)
  point P0 (0, 0)
extrude "Extrusion31" cut sketch "Sketch41" against normal blind 17.5
properties part number "mtv_frame(BrakeInBack)1-13"
